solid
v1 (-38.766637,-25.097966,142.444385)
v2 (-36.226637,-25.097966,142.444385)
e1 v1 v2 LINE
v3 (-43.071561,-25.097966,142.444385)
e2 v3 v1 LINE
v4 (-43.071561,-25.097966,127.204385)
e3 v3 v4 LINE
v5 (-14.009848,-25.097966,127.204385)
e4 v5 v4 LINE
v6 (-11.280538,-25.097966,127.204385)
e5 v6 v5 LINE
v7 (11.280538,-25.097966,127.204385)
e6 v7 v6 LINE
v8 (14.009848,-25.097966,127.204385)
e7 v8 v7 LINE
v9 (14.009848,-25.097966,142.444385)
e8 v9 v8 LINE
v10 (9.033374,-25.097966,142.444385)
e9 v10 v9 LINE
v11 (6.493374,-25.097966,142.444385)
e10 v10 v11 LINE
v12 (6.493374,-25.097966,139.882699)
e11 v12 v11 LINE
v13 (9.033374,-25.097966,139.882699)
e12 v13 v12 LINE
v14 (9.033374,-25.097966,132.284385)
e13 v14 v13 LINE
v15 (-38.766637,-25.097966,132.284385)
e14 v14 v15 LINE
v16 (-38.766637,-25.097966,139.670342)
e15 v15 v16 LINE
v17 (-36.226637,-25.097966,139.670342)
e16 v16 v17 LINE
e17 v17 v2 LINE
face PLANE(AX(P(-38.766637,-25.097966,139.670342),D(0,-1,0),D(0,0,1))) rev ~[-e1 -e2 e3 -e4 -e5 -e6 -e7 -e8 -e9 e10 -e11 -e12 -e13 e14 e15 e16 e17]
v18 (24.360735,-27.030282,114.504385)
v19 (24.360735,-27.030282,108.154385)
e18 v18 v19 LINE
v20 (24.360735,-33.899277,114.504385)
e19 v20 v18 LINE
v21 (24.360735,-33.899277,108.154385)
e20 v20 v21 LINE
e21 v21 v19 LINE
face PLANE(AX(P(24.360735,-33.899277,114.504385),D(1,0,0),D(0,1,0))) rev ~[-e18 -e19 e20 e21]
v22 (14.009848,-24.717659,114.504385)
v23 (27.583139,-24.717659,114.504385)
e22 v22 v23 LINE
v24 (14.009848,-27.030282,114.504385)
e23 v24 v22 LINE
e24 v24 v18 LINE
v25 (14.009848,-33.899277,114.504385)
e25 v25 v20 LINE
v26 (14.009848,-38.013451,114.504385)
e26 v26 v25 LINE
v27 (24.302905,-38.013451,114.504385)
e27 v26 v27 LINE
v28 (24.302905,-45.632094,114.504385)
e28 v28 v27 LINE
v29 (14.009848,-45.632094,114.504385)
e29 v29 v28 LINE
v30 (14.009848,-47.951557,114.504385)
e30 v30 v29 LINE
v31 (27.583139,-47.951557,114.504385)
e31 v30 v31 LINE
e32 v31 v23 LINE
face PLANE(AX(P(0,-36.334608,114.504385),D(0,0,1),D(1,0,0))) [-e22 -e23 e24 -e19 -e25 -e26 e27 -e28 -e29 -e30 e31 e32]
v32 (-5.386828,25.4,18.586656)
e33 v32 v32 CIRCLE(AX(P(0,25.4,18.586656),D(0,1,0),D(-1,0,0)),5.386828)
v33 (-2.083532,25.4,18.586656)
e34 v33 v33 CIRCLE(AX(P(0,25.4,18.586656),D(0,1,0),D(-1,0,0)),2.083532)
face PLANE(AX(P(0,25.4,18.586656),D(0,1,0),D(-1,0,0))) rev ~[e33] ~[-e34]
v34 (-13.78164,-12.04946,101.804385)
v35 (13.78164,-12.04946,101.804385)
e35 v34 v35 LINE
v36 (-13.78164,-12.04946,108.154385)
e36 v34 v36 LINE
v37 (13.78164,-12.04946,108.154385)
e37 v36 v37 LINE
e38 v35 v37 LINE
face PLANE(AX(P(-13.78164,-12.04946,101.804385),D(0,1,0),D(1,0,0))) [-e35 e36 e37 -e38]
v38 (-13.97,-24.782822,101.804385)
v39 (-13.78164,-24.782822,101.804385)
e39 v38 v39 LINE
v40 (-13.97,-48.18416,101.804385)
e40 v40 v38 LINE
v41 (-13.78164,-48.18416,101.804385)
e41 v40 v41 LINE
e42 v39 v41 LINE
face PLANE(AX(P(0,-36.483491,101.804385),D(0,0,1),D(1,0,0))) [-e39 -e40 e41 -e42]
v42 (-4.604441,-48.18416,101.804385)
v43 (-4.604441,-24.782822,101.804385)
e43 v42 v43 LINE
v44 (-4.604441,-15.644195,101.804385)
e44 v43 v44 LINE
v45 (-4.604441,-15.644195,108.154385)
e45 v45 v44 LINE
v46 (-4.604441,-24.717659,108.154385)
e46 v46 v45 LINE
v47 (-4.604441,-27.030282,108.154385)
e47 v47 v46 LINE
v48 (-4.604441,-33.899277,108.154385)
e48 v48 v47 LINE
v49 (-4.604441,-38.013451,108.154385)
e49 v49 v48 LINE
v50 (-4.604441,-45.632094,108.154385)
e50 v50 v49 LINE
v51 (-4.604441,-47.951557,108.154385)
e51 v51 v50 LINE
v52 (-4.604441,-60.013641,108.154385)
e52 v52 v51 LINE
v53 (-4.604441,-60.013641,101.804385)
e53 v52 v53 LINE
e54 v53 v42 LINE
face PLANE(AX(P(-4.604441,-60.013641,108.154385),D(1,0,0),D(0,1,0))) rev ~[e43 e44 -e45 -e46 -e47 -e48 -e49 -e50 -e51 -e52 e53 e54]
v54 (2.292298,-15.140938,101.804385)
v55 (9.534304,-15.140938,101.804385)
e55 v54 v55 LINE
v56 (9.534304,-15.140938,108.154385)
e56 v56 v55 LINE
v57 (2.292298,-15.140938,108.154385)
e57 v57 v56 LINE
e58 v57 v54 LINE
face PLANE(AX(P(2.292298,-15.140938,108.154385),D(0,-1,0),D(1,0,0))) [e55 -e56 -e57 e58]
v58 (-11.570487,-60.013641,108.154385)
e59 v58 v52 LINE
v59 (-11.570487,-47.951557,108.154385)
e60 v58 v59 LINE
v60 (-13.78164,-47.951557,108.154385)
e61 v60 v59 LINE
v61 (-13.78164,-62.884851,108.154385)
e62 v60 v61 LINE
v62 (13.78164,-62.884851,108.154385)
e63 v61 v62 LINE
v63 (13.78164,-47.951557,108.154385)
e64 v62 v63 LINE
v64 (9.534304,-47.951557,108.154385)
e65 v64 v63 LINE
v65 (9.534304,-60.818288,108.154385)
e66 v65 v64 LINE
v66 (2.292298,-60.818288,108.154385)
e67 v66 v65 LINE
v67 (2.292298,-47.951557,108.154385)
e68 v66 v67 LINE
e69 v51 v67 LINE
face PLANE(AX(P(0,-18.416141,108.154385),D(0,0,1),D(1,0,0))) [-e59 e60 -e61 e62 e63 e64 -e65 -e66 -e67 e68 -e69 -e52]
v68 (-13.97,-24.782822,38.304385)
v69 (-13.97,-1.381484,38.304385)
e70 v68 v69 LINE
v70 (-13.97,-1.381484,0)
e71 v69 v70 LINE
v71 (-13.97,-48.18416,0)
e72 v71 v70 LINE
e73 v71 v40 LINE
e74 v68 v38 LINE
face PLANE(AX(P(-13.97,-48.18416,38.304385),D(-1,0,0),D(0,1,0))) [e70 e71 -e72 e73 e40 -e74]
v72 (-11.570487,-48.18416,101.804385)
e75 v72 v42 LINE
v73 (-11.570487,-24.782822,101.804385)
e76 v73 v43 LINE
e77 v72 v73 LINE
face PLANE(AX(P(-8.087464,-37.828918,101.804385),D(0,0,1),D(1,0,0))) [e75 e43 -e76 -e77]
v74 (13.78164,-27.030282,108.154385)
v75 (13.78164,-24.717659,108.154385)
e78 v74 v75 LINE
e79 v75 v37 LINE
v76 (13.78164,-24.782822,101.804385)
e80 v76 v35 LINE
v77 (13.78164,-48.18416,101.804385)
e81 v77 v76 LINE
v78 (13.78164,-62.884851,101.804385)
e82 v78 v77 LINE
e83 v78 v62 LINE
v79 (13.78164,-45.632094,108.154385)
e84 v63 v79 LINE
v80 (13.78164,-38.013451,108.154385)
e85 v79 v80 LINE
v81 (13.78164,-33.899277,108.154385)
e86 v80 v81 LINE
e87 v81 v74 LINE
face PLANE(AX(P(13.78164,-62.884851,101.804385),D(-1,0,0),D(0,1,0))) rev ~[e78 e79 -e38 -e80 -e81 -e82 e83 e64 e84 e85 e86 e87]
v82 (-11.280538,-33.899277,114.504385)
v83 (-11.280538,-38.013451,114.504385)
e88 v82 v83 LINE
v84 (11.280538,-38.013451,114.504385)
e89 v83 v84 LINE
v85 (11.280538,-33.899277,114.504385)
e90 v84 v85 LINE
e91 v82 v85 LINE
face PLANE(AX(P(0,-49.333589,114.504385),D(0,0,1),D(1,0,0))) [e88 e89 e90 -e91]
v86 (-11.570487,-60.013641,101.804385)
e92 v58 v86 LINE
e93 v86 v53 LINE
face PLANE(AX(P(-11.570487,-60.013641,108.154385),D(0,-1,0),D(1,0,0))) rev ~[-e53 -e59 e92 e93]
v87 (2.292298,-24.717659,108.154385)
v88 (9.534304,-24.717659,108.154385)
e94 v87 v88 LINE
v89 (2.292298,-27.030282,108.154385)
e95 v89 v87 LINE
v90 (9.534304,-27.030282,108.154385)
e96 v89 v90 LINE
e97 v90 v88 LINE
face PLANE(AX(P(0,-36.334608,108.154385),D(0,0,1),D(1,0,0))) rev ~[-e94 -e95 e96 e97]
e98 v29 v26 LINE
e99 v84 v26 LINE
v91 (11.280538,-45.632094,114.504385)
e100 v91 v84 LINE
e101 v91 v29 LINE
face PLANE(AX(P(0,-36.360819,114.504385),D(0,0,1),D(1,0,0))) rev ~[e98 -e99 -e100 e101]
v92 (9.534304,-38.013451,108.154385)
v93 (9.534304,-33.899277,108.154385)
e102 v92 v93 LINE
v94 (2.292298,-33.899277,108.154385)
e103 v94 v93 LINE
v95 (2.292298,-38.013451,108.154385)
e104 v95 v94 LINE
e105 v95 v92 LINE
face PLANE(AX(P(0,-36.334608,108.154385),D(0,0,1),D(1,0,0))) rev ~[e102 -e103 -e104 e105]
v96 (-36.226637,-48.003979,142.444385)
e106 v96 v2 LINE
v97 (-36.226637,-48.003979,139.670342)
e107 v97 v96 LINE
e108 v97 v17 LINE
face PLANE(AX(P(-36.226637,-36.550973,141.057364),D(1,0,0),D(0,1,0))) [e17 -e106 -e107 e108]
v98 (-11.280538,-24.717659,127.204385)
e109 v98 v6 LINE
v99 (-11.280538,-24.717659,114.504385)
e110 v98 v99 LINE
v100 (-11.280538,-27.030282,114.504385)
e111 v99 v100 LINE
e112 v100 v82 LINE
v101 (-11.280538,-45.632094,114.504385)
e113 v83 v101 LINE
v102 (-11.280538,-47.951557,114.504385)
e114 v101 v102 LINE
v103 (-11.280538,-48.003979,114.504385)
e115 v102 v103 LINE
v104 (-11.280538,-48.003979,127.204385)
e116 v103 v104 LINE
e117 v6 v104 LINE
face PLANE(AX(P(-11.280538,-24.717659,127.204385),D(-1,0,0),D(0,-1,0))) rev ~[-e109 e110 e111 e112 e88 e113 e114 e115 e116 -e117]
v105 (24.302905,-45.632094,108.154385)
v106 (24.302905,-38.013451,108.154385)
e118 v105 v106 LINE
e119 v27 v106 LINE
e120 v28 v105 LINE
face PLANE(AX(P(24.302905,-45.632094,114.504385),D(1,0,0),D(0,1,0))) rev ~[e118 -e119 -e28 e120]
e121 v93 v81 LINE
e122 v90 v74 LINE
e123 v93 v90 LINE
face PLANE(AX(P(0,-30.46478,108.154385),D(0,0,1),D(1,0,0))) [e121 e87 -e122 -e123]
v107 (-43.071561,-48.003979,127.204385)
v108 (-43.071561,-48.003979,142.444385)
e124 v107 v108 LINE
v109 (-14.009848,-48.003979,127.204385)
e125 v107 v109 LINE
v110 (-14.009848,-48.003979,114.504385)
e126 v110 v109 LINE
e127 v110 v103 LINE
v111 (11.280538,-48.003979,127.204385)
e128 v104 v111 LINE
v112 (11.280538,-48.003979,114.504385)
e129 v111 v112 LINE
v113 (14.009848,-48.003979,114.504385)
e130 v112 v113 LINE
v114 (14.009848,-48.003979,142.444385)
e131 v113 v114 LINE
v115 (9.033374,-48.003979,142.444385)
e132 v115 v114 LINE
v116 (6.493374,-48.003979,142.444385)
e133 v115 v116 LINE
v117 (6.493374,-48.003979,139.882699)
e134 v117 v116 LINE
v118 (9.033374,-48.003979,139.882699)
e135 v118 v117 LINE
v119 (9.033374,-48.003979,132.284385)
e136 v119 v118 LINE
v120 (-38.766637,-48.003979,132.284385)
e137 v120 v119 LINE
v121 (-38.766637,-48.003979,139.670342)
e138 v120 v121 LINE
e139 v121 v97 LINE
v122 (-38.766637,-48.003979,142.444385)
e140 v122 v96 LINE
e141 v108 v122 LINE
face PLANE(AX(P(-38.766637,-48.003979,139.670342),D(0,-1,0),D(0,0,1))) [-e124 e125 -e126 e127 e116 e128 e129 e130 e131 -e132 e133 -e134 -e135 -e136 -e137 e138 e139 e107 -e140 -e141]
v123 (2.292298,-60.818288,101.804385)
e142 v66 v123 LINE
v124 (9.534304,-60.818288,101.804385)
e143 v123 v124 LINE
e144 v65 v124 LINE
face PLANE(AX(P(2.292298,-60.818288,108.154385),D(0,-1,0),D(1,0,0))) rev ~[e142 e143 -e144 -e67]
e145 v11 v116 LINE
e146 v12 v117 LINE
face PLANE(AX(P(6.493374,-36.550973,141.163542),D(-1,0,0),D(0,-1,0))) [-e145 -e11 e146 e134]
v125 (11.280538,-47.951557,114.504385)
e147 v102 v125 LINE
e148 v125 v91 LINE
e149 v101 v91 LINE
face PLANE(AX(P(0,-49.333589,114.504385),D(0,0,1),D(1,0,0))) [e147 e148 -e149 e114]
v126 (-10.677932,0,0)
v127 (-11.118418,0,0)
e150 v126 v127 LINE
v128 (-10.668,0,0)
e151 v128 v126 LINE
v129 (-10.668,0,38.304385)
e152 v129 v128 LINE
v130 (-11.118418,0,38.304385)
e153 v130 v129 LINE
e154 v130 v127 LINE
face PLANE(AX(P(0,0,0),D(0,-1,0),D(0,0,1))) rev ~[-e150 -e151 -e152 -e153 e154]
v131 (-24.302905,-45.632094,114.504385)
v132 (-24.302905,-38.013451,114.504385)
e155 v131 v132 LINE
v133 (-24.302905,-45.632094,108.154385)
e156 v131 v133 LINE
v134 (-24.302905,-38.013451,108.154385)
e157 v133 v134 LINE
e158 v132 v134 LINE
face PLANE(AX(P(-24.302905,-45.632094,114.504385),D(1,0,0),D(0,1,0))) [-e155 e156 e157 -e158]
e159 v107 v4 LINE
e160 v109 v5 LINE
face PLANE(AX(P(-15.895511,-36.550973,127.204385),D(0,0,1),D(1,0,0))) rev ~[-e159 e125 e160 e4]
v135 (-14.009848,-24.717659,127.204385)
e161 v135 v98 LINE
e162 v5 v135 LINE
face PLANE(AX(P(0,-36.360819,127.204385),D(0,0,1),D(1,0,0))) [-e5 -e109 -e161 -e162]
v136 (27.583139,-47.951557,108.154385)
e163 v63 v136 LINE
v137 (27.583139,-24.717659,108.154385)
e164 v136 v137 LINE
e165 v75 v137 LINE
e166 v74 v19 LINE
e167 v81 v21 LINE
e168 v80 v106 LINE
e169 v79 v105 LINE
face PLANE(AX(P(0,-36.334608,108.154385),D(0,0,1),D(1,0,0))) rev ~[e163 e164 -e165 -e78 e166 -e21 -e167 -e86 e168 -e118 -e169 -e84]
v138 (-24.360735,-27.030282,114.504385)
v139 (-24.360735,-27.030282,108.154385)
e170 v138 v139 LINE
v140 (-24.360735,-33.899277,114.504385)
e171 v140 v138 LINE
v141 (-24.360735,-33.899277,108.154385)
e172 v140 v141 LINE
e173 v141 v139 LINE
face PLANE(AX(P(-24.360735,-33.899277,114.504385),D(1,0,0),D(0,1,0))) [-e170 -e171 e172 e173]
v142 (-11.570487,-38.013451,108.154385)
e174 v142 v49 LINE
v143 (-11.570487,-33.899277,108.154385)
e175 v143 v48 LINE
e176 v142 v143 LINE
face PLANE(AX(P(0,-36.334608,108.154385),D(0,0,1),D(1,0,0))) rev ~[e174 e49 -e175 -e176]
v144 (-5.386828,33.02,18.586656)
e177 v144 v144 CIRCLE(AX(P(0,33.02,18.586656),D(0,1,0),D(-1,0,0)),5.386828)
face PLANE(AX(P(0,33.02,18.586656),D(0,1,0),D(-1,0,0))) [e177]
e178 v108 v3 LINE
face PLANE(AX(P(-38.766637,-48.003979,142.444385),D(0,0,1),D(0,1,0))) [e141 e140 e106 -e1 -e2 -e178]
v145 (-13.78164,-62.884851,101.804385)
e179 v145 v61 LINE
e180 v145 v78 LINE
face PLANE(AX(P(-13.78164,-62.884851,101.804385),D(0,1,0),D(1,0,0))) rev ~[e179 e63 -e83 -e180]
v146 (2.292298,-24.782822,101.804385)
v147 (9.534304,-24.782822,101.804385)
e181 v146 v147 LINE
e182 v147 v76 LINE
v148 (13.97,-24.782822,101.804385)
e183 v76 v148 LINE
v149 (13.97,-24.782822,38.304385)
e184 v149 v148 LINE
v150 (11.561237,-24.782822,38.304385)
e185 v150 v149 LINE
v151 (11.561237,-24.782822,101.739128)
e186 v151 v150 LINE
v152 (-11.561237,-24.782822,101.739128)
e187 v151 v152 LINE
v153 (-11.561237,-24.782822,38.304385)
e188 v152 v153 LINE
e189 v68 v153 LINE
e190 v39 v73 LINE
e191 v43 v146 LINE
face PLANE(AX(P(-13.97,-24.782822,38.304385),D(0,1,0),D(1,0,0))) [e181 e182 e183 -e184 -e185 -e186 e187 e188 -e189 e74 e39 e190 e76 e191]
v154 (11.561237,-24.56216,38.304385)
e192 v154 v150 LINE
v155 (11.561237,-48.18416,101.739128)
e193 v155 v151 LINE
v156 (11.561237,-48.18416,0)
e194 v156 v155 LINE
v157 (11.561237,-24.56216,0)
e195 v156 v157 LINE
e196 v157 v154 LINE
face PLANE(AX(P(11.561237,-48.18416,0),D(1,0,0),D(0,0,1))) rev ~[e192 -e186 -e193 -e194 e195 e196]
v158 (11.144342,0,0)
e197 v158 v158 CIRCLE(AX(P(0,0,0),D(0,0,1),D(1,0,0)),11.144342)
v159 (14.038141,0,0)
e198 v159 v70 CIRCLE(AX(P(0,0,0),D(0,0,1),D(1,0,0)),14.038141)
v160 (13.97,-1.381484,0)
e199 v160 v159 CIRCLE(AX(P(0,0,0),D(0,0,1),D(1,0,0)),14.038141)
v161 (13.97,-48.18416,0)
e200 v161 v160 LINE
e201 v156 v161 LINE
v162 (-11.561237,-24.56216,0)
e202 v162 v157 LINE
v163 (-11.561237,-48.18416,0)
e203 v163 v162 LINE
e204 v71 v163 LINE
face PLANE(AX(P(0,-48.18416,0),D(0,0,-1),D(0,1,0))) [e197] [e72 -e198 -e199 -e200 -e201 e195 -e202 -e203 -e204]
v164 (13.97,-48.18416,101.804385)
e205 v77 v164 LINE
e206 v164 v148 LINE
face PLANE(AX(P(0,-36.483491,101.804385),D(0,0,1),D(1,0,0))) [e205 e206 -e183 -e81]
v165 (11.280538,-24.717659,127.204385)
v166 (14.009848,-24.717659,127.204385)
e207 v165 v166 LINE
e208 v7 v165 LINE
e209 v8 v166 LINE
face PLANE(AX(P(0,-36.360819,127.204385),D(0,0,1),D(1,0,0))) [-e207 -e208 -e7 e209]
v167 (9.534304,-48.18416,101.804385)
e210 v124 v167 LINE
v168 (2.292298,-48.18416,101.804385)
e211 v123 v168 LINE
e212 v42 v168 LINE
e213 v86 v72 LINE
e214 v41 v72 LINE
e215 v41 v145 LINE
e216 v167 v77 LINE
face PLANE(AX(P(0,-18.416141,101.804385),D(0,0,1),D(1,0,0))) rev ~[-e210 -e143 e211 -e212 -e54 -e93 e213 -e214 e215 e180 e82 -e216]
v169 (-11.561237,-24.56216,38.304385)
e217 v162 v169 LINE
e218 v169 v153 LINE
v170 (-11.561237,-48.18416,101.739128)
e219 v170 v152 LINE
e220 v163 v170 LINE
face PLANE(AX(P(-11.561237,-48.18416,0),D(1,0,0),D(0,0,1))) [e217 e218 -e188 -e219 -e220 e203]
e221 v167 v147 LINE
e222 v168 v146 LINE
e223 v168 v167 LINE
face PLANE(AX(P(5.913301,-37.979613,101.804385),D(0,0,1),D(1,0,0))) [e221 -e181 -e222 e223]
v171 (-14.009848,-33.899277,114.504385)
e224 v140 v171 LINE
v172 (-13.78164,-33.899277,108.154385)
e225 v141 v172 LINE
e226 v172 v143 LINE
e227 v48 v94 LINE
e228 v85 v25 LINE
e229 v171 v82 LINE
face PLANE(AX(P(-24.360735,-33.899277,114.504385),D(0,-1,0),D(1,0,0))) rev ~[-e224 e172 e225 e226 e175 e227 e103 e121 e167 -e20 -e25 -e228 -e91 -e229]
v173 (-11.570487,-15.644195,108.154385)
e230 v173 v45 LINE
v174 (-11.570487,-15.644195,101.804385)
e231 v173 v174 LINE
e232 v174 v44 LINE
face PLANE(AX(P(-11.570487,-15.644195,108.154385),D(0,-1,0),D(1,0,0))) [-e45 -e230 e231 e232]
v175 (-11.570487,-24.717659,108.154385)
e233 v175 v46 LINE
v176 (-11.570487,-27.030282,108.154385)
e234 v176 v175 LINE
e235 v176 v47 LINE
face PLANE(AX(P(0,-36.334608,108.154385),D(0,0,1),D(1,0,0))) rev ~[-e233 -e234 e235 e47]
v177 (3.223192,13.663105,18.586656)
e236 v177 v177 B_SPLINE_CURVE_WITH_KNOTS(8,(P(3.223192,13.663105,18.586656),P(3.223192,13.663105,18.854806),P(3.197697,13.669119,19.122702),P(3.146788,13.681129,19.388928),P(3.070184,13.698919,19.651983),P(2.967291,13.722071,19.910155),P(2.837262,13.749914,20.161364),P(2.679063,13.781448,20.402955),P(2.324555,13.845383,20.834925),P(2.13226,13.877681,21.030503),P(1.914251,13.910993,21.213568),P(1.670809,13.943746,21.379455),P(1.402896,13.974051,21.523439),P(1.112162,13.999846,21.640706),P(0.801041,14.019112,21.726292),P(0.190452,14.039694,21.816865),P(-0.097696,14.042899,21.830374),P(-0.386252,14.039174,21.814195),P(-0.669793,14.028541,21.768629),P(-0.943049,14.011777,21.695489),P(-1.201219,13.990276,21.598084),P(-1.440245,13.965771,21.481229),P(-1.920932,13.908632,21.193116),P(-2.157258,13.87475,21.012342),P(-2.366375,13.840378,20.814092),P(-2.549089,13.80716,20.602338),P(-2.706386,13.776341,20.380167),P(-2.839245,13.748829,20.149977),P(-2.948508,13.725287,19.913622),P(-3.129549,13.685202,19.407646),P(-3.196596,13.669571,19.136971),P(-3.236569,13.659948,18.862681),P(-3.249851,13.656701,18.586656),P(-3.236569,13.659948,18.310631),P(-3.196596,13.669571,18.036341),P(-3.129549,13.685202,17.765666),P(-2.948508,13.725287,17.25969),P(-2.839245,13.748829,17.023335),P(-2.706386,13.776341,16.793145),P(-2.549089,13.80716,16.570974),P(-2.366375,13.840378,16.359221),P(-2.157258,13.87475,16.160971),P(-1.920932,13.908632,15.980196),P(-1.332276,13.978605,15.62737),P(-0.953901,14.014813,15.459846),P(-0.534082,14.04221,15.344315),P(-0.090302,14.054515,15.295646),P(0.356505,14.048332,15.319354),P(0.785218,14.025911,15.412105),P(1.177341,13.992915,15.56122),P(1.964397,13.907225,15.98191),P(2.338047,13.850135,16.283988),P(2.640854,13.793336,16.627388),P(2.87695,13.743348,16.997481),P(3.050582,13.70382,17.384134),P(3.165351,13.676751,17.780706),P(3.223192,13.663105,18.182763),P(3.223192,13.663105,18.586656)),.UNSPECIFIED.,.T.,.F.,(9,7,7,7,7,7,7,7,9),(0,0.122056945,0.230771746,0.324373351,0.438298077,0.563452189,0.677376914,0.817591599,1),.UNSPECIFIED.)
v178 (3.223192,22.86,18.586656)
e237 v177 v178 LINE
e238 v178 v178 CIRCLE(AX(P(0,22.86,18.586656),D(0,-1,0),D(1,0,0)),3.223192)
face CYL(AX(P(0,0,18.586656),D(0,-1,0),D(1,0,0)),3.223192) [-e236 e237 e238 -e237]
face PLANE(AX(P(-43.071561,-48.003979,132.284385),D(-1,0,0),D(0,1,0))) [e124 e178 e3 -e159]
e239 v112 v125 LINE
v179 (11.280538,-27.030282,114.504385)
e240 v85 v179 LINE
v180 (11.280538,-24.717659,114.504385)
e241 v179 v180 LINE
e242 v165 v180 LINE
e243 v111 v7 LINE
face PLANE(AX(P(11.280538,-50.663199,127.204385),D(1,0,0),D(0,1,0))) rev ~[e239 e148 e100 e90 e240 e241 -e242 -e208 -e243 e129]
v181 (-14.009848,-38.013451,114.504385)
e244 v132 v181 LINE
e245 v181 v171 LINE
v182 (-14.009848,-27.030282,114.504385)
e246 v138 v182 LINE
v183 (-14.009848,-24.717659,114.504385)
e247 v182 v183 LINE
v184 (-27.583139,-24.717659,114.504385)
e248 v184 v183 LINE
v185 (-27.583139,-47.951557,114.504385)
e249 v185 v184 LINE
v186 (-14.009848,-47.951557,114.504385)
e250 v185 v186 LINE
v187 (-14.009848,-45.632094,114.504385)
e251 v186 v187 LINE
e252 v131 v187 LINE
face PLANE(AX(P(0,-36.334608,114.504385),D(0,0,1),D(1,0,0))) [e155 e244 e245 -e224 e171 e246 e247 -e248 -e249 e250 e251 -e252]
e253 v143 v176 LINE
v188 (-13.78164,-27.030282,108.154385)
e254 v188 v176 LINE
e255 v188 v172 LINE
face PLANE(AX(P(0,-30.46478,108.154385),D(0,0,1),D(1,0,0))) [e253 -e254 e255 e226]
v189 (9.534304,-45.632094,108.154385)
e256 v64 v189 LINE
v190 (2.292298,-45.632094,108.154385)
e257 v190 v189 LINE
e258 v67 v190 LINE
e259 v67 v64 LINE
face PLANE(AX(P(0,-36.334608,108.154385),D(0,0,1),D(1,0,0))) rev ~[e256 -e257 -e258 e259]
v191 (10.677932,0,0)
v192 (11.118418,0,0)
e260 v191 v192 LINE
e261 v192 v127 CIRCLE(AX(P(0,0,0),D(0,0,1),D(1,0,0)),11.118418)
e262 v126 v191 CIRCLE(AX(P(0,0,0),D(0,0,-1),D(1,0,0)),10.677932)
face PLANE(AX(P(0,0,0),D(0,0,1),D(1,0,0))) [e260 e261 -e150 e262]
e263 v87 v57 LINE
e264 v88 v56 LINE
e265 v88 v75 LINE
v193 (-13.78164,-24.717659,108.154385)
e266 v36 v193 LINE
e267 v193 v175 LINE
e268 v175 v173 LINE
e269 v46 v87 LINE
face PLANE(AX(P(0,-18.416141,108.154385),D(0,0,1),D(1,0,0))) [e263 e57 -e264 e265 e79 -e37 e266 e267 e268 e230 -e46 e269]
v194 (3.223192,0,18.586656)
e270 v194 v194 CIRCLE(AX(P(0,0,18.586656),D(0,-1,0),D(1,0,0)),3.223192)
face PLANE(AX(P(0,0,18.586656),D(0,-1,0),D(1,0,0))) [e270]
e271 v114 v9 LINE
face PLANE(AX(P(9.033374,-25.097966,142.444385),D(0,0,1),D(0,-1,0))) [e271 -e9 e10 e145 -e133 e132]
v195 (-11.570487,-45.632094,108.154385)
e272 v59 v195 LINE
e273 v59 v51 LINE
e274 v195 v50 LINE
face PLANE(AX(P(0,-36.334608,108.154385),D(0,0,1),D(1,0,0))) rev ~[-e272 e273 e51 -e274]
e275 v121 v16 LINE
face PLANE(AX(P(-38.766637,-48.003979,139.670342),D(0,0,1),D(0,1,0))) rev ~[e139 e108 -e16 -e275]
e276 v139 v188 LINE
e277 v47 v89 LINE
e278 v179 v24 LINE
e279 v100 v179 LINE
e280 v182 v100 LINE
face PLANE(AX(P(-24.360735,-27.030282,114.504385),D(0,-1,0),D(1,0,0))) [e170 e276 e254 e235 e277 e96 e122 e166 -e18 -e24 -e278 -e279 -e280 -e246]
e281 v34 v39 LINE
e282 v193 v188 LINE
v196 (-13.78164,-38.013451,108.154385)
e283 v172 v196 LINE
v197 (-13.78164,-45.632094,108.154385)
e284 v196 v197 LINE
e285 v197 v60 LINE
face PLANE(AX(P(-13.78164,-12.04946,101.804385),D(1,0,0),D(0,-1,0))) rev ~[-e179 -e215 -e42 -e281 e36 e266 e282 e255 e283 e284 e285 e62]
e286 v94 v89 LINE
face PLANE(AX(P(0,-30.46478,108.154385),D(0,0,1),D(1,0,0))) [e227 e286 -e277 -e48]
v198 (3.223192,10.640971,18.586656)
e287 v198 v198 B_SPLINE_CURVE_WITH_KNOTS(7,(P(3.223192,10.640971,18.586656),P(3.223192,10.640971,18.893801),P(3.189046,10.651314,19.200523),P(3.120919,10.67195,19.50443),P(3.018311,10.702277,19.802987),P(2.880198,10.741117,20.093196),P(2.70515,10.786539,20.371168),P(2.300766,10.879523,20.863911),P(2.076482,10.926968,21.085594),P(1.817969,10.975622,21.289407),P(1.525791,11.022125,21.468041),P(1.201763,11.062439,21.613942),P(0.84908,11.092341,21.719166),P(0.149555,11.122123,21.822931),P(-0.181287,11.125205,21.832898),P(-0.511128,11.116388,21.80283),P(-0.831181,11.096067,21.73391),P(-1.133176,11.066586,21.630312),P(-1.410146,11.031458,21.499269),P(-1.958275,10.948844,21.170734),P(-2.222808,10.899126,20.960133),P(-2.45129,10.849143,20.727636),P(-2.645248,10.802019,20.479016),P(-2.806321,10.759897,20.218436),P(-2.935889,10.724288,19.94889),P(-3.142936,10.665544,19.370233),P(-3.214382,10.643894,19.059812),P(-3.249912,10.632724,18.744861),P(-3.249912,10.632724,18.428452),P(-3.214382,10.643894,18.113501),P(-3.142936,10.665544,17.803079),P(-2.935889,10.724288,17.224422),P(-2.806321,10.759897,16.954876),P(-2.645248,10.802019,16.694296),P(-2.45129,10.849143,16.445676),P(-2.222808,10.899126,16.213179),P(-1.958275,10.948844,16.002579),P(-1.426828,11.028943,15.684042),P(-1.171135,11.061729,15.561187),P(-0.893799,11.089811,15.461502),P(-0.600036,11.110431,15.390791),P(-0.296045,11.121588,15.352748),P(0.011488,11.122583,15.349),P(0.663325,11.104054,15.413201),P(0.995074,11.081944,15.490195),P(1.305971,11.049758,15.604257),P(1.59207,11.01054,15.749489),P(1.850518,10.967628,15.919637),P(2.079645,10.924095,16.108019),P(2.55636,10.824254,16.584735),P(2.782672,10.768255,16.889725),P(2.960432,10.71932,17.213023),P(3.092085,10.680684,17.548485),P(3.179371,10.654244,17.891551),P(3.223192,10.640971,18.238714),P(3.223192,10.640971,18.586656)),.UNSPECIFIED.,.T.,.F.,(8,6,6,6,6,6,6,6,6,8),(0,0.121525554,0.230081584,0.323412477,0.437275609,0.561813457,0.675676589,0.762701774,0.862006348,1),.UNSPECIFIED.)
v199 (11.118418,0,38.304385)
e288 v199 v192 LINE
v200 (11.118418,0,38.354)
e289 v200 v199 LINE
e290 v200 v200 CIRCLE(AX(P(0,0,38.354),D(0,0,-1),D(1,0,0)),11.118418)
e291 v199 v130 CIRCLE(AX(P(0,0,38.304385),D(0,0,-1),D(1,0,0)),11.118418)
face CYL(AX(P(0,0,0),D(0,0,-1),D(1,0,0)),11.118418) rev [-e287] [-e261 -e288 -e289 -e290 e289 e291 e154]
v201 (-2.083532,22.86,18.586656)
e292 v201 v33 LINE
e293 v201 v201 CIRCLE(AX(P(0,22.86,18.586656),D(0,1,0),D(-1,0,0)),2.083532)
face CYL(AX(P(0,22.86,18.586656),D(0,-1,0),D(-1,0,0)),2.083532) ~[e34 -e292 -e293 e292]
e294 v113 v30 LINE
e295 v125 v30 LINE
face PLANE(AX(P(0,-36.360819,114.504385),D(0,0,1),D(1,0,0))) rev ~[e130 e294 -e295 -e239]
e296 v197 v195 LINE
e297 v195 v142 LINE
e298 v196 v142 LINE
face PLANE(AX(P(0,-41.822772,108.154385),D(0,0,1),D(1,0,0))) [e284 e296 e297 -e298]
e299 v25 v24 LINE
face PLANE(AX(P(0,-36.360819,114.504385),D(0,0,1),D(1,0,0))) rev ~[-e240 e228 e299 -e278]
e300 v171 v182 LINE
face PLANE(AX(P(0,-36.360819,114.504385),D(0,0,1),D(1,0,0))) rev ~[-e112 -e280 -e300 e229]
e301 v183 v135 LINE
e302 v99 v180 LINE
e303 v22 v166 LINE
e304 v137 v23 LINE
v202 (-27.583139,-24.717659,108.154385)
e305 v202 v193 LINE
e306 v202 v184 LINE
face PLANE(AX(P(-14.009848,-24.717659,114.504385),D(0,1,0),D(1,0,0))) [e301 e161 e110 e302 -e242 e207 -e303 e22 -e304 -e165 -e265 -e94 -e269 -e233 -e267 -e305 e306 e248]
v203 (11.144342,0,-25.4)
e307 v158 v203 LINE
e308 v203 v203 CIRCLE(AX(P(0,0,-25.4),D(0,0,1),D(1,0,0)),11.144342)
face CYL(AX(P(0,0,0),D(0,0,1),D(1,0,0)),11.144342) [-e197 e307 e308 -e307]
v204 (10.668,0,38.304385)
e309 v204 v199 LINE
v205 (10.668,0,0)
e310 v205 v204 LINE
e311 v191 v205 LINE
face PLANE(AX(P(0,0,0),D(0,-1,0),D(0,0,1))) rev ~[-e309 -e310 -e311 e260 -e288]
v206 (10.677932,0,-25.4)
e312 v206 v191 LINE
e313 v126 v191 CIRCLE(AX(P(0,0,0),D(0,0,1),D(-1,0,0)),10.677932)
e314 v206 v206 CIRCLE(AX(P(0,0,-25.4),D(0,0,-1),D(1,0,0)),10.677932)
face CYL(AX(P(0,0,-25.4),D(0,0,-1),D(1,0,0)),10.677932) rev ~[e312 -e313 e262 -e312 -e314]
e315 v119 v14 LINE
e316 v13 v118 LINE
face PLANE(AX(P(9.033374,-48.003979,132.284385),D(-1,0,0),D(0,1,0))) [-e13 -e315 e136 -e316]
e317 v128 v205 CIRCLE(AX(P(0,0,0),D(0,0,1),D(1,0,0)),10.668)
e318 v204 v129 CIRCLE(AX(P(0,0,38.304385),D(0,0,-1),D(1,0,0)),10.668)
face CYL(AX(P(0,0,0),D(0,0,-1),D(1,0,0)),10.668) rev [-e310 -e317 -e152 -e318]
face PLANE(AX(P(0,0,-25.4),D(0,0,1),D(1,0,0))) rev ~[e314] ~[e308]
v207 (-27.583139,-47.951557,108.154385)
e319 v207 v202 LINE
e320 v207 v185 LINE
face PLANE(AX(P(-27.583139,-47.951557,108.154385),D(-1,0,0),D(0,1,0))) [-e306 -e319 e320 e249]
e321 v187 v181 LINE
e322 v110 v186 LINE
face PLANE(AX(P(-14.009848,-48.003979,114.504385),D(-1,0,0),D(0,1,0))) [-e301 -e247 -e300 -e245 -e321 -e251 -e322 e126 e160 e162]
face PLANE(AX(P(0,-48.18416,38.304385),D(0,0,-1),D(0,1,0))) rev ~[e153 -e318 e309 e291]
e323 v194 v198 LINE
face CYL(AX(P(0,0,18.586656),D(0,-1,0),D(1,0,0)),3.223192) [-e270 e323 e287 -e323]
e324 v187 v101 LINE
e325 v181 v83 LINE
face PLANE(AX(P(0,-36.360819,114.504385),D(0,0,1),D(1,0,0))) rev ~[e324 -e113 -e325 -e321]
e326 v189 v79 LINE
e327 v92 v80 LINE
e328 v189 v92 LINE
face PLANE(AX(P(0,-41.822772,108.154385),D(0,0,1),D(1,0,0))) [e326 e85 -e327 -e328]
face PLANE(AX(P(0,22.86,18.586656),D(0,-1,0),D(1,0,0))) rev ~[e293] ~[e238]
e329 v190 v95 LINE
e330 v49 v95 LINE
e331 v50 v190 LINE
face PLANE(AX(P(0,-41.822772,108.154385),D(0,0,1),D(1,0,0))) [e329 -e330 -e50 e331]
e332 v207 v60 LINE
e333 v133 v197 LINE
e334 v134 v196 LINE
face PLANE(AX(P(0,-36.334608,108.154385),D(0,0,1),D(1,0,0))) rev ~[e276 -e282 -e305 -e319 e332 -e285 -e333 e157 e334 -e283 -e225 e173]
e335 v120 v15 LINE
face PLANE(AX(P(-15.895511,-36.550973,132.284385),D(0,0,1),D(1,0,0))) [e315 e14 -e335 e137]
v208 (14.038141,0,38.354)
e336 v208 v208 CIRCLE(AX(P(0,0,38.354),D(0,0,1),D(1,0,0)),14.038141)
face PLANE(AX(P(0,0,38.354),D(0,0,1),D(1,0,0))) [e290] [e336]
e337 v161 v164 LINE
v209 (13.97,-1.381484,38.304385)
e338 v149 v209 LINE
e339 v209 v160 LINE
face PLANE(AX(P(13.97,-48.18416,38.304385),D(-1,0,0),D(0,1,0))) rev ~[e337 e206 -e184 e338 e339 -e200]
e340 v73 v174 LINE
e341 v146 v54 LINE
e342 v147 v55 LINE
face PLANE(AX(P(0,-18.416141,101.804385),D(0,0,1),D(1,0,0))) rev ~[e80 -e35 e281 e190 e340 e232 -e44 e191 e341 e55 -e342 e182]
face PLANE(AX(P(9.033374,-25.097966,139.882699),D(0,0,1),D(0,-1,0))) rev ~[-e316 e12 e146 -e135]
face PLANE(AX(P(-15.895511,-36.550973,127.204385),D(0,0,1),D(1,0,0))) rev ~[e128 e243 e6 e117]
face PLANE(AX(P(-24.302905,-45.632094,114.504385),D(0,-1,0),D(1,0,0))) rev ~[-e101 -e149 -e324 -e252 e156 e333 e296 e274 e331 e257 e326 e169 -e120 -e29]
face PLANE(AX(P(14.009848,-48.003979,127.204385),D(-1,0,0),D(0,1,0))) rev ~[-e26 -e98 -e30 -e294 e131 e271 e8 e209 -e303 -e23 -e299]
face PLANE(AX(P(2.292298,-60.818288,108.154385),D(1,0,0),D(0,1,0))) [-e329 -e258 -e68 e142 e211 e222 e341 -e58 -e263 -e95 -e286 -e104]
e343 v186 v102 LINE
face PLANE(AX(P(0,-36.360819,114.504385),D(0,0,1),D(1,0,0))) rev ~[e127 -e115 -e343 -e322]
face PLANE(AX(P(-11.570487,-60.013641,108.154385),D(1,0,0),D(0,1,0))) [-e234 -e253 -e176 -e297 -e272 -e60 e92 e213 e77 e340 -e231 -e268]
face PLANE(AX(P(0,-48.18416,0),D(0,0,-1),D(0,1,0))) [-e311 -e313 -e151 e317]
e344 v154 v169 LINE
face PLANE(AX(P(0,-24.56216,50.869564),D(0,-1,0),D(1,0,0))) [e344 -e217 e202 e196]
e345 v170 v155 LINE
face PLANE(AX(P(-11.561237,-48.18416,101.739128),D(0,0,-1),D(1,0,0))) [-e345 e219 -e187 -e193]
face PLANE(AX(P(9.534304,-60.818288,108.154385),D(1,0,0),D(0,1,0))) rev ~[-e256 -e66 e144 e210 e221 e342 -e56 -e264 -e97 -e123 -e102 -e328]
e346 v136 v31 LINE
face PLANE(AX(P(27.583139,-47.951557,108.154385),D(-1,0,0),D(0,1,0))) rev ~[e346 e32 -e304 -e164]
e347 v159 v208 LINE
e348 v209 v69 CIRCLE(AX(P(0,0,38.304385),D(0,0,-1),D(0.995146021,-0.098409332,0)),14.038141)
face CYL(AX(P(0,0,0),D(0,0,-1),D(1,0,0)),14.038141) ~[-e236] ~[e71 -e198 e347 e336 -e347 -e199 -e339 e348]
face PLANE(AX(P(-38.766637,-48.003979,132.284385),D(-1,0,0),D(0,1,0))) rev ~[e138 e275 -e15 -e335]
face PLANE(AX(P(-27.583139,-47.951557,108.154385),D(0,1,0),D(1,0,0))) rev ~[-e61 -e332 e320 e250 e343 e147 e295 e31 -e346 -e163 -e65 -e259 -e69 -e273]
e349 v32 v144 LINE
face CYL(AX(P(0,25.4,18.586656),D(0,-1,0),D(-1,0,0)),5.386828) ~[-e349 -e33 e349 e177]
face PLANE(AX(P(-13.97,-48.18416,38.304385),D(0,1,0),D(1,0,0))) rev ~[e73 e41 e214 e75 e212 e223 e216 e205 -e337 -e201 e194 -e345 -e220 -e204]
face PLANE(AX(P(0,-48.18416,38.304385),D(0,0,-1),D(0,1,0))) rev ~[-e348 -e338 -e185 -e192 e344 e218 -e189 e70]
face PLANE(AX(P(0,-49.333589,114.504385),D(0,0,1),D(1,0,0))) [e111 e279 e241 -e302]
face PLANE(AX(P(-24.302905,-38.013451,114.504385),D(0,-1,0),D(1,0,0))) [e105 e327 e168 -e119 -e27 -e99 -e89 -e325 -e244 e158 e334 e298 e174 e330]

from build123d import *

# Parameters (mm, degrees)
F0_R           = 11.4851473357
F1_DEPTH       = 25.4
F2_R           = 14.0381408387
F3_DEPTH       = 38.354
F4_R           = 11.1184182472
F5_DEPTH       = 40.64
F6_R           = 11.1443418508
F7_DEPTH       = 25.4
F8_R           = 10.6779324927
F9_DEPTH       = 25.4
F10_W          = 48.1841601431
F10_H          = 38.3043847978
F11_DEPTH      = 13.97
F11_DEPTH_BACK = 13.97
F12_W          = 27.94
F12_H          = 23.4013380416
F13_DEPTH      = 63.5
F14_W          = 27.5632794946
F14_H          = 12.7333622493
F14_H_2        = 23.4013380416
F14_H_3        = 14.7006912157
F15_DEPTH      = 6.35
F16_W          = 7.2420062497
F16_H          = 45.677350834
F16_W_2        = 6.9660460576
F16_H_2        = 44.3694461137
F17_DEPTH      = 6.35
F18_W          = 55.1662780344
F18_H          = 23.233897984
F19_DEPTH      = 6.35
F20_W          = 48.7214699388
F20_H          = 6.8689957261
F20_W_2        = 48.6058108509
F20_H_2        = 7.6186433434
F21_DEPTH      = 6.35
F22_W          = 23.1224743262
F22_H          = 101.739127886
F23_DEPTH      = 23.622
F24_W          = 28.0196964741
F24_H          = 23.2863202691
F25_DEPTH      = 12.7
F26_W          = 22.5610751659
F26_H          = 2.6592202485
F26_H_2        = 23.2863202691
F27_DEPTH      = 12.7
F28_W          = 54.3520981446
F28_H          = 22.9060128331
F28_W_2        = 2.7293106541
F29_DEPTH      = 5.08
F30_W          = 4.3049231172
F30_H          = 22.9060128331
F30_W_2        = 4.9764737487
F31_DEPTH      = 10.16
F32_W          = 22.9060128331
F32_H          = 2.5616861427
F33_DEPTH      = 2.54
F34_W          = 22.9060128331
F34_H          = 2.7740425909
F35_DEPTH      = 2.54
F36_R          = 10.668
F37_DEPTH      = 40.64
F38_R          = 3.2231915419
F39_DEPTH      = 22.86
F40_R          = 2.0835322845
F41_DEPTH      = 2.54
F42_R          = 5.3868280623
F43_DEPTH      = 7.62


with BuildPart() as f1:
    # F0 (on Top) → F1 (new body)
    with BuildSketch(Plane.XY):
        Circle(F0_R)
    extrude(amount=F1_DEPTH)


with BuildPart() as f3:
    # F2 (on Top) → F3 (new body)
    with BuildSketch(Plane.XY):
        Circle(F2_R)
    extrude(amount=F3_DEPTH)


with BuildPart() as f5_tool:
    # F4 (on Top) → F5 (new body)
    with BuildSketch(Plane.XY):
        Circle(F4_R)
    extrude(amount=F5_DEPTH)


with BuildPart() as f1_1:
    add(f1.part)

    # F5: cut by f5_tool
    add(f5_tool.part, mode=Mode.SUBTRACT)



with BuildPart() as f3_1:
    add(f3.part)

    # F5: cut by f5_tool
    add(f5_tool.part, mode=Mode.SUBTRACT)


with BuildPart() as f7:
    # F6 (on Top) → F7 (new body)
    with BuildSketch(Plane.XY):
        Circle(F6_R)
    extrude(amount=-F7_DEPTH)

    # F8 (on face) → F9 (cut)
    with BuildSketch(Plane(origin=(0, 0, -25.4), x_dir=(1, 0, 0), z_dir=(0, 0, -1))):
        Circle(F8_R)
    extrude(amount=-F9_DEPTH, mode=Mode.SUBTRACT)


with BuildPart() as f1_2:
    add(f1_1.part)

    add(f3_1.part)  # F11 merges F3

    add(f7.part)  # F11 merges F7
    # F10 (on Right) → F11 (join, two sides)
    with BuildSketch(Plane.YZ) as f11_sk:
        with Locations((-24.0920800716, 19.1521923989)):
            Rectangle(F10_W, F10_H)
    extrude(amount=F11_DEPTH)
    extrude(f11_sk.sketch, amount=-F11_DEPTH_BACK)

    # F12 (on face) → F13 (join)
    with BuildSketch(Plane.XY.offset(38.3043847978)):
        with Locations((0, -36.4834911223)):
            Rectangle(F12_W, F12_H)
    extrude(amount=F13_DEPTH)

    # F14 (on face) → F15 (join)
    with BuildSketch(Plane.XY.offset(101.8043847978)):
        with Locations((0, -18.4161409769)):
            Rectangle(F14_W, F14_H)
        with Locations((0, -36.4834911223)):
            Rectangle(F14_W, F14_H_2)
        with Locations((0, -55.534505751)):
            Rectangle(F14_W, F14_H_3)
    extrude(amount=F15_DEPTH)

    # F16 (on face) → F17 (cut)
    with BuildSketch(Plane.XY.offset(108.1543847978)):
        with Locations((5.9133009054, -37.9796130583)):
            Rectangle(F16_W, F16_H)
        with Locations((-8.0874641426, -37.8289176151)):
            Rectangle(F16_W_2, F16_H_2)
    extrude(amount=-F17_DEPTH, mode=Mode.SUBTRACT)

    # F18 (on face) → F19 (join)
    with BuildSketch(Plane.XY.offset(108.1543847978)):
        with Locations((0, -36.3346077502)):
            Rectangle(F18_W, F18_H)
    extrude(amount=F19_DEPTH)

    # F20 (on face) → F21 (cut)
    with BuildSketch(Plane.XY.offset(114.5043847978)):
        with Locations((0, -30.4647795856)):
            Rectangle(F20_W, F20_H)
        with Locations((0, -41.8227724731)):
            Rectangle(F20_W_2, F20_H_2)
    extrude(amount=-F21_DEPTH, mode=Mode.SUBTRACT)

    # F22 (on face) → F23 (cut)
    with BuildSketch(Plane.XZ.offset(48.1841601431)):
        with Locations((0, 50.869563943)):
            Rectangle(F22_W, F22_H)
    extrude(amount=-F23_DEPTH, mode=Mode.SUBTRACT)

    # F24 (on face) → F25 (join)
    with BuildSketch(Plane.XY.offset(114.5043847978)):
        with Locations((0, -36.3608188927)):
            Rectangle(F24_W, F24_H)
    extrude(amount=F25_DEPTH)

    # F26 (on face) → F27 (cut)
    with BuildSketch(Plane.XY.offset(127.2043847978)):
        with Locations((0, -49.3335891515)):
            Rectangle(F26_W, F26_H)
        with Locations((0, -36.3608188927)):
            Rectangle(F26_W, F26_H_2)
    extrude(amount=-F27_DEPTH, mode=Mode.SUBTRACT)

    # F28 (on face) → F29 (join)
    with BuildSketch(Plane.XY.offset(127.2043847978)):
        with Locations((-15.8955114894, -36.5509726107)):
            Rectangle(F28_W, F28_H)
        with Locations((12.64519291, -36.5509726107)):
            Rectangle(F28_W_2, F28_H)
    extrude(amount=F29_DEPTH)

    # F30 (on face) → F31 (join)
    with BuildSketch(Plane.XY.offset(132.2843847978)):
        with Locations((-40.9190990031, -36.5509726107)):
            Rectangle(F30_W, F30_H)
        with Locations((11.5216113627, -36.5509726107)):
            Rectangle(F30_W_2, F30_H)
    extrude(amount=F31_DEPTH)

    # F32 (on face) → F33 (join)
    with BuildSketch(Plane(origin=(9.0333744884, 0, 0), x_dir=(0, -1, 0), z_dir=(-1, 0, 0))):
        with Locations((36.5509726107, 141.1635417265)):
            Rectangle(F32_W, F32_H)
    extrude(amount=F33_DEPTH)

    # F34 (on face) → F35 (join)
    with BuildSketch(Plane.YZ.offset(-38.7666374445)):
        with Locations((-36.5509726107, 141.0573635024)):
            Rectangle(F34_W, F34_H)
    extrude(amount=F35_DEPTH)

    # F36 (on Top) → F37 (cut)
    with BuildSketch(Plane.XY):
        Circle(F36_R)
    extrude(amount=F37_DEPTH, mode=Mode.SUBTRACT)

    # F38 (on Front) → F39 (join)
    with BuildSketch(Plane.XZ):
        with Locations((0, 18.5866560787)):
            Circle(F38_R)
    extrude(amount=-F39_DEPTH)

    # F40 (on face) → F41 (join)
    with BuildSketch(Plane(origin=(0, 22.86, 0), x_dir=(-1, 0, 0), z_dir=(0, 1, 0))):
        with Locations((0, 18.5866560787)):
            Circle(F40_R)
    extrude(amount=F41_DEPTH)

    # F42 (on face) → F43 (join)
    with BuildSketch(Plane(origin=(0, 25.4, 0), x_dir=(-1, 0, 0), z_dir=(0, 1, 0))):
        with Locations((0, 18.5866560787)):
            Circle(F42_R)
    extrude(amount=F43_DEPTH)


solid = f1_2.part
